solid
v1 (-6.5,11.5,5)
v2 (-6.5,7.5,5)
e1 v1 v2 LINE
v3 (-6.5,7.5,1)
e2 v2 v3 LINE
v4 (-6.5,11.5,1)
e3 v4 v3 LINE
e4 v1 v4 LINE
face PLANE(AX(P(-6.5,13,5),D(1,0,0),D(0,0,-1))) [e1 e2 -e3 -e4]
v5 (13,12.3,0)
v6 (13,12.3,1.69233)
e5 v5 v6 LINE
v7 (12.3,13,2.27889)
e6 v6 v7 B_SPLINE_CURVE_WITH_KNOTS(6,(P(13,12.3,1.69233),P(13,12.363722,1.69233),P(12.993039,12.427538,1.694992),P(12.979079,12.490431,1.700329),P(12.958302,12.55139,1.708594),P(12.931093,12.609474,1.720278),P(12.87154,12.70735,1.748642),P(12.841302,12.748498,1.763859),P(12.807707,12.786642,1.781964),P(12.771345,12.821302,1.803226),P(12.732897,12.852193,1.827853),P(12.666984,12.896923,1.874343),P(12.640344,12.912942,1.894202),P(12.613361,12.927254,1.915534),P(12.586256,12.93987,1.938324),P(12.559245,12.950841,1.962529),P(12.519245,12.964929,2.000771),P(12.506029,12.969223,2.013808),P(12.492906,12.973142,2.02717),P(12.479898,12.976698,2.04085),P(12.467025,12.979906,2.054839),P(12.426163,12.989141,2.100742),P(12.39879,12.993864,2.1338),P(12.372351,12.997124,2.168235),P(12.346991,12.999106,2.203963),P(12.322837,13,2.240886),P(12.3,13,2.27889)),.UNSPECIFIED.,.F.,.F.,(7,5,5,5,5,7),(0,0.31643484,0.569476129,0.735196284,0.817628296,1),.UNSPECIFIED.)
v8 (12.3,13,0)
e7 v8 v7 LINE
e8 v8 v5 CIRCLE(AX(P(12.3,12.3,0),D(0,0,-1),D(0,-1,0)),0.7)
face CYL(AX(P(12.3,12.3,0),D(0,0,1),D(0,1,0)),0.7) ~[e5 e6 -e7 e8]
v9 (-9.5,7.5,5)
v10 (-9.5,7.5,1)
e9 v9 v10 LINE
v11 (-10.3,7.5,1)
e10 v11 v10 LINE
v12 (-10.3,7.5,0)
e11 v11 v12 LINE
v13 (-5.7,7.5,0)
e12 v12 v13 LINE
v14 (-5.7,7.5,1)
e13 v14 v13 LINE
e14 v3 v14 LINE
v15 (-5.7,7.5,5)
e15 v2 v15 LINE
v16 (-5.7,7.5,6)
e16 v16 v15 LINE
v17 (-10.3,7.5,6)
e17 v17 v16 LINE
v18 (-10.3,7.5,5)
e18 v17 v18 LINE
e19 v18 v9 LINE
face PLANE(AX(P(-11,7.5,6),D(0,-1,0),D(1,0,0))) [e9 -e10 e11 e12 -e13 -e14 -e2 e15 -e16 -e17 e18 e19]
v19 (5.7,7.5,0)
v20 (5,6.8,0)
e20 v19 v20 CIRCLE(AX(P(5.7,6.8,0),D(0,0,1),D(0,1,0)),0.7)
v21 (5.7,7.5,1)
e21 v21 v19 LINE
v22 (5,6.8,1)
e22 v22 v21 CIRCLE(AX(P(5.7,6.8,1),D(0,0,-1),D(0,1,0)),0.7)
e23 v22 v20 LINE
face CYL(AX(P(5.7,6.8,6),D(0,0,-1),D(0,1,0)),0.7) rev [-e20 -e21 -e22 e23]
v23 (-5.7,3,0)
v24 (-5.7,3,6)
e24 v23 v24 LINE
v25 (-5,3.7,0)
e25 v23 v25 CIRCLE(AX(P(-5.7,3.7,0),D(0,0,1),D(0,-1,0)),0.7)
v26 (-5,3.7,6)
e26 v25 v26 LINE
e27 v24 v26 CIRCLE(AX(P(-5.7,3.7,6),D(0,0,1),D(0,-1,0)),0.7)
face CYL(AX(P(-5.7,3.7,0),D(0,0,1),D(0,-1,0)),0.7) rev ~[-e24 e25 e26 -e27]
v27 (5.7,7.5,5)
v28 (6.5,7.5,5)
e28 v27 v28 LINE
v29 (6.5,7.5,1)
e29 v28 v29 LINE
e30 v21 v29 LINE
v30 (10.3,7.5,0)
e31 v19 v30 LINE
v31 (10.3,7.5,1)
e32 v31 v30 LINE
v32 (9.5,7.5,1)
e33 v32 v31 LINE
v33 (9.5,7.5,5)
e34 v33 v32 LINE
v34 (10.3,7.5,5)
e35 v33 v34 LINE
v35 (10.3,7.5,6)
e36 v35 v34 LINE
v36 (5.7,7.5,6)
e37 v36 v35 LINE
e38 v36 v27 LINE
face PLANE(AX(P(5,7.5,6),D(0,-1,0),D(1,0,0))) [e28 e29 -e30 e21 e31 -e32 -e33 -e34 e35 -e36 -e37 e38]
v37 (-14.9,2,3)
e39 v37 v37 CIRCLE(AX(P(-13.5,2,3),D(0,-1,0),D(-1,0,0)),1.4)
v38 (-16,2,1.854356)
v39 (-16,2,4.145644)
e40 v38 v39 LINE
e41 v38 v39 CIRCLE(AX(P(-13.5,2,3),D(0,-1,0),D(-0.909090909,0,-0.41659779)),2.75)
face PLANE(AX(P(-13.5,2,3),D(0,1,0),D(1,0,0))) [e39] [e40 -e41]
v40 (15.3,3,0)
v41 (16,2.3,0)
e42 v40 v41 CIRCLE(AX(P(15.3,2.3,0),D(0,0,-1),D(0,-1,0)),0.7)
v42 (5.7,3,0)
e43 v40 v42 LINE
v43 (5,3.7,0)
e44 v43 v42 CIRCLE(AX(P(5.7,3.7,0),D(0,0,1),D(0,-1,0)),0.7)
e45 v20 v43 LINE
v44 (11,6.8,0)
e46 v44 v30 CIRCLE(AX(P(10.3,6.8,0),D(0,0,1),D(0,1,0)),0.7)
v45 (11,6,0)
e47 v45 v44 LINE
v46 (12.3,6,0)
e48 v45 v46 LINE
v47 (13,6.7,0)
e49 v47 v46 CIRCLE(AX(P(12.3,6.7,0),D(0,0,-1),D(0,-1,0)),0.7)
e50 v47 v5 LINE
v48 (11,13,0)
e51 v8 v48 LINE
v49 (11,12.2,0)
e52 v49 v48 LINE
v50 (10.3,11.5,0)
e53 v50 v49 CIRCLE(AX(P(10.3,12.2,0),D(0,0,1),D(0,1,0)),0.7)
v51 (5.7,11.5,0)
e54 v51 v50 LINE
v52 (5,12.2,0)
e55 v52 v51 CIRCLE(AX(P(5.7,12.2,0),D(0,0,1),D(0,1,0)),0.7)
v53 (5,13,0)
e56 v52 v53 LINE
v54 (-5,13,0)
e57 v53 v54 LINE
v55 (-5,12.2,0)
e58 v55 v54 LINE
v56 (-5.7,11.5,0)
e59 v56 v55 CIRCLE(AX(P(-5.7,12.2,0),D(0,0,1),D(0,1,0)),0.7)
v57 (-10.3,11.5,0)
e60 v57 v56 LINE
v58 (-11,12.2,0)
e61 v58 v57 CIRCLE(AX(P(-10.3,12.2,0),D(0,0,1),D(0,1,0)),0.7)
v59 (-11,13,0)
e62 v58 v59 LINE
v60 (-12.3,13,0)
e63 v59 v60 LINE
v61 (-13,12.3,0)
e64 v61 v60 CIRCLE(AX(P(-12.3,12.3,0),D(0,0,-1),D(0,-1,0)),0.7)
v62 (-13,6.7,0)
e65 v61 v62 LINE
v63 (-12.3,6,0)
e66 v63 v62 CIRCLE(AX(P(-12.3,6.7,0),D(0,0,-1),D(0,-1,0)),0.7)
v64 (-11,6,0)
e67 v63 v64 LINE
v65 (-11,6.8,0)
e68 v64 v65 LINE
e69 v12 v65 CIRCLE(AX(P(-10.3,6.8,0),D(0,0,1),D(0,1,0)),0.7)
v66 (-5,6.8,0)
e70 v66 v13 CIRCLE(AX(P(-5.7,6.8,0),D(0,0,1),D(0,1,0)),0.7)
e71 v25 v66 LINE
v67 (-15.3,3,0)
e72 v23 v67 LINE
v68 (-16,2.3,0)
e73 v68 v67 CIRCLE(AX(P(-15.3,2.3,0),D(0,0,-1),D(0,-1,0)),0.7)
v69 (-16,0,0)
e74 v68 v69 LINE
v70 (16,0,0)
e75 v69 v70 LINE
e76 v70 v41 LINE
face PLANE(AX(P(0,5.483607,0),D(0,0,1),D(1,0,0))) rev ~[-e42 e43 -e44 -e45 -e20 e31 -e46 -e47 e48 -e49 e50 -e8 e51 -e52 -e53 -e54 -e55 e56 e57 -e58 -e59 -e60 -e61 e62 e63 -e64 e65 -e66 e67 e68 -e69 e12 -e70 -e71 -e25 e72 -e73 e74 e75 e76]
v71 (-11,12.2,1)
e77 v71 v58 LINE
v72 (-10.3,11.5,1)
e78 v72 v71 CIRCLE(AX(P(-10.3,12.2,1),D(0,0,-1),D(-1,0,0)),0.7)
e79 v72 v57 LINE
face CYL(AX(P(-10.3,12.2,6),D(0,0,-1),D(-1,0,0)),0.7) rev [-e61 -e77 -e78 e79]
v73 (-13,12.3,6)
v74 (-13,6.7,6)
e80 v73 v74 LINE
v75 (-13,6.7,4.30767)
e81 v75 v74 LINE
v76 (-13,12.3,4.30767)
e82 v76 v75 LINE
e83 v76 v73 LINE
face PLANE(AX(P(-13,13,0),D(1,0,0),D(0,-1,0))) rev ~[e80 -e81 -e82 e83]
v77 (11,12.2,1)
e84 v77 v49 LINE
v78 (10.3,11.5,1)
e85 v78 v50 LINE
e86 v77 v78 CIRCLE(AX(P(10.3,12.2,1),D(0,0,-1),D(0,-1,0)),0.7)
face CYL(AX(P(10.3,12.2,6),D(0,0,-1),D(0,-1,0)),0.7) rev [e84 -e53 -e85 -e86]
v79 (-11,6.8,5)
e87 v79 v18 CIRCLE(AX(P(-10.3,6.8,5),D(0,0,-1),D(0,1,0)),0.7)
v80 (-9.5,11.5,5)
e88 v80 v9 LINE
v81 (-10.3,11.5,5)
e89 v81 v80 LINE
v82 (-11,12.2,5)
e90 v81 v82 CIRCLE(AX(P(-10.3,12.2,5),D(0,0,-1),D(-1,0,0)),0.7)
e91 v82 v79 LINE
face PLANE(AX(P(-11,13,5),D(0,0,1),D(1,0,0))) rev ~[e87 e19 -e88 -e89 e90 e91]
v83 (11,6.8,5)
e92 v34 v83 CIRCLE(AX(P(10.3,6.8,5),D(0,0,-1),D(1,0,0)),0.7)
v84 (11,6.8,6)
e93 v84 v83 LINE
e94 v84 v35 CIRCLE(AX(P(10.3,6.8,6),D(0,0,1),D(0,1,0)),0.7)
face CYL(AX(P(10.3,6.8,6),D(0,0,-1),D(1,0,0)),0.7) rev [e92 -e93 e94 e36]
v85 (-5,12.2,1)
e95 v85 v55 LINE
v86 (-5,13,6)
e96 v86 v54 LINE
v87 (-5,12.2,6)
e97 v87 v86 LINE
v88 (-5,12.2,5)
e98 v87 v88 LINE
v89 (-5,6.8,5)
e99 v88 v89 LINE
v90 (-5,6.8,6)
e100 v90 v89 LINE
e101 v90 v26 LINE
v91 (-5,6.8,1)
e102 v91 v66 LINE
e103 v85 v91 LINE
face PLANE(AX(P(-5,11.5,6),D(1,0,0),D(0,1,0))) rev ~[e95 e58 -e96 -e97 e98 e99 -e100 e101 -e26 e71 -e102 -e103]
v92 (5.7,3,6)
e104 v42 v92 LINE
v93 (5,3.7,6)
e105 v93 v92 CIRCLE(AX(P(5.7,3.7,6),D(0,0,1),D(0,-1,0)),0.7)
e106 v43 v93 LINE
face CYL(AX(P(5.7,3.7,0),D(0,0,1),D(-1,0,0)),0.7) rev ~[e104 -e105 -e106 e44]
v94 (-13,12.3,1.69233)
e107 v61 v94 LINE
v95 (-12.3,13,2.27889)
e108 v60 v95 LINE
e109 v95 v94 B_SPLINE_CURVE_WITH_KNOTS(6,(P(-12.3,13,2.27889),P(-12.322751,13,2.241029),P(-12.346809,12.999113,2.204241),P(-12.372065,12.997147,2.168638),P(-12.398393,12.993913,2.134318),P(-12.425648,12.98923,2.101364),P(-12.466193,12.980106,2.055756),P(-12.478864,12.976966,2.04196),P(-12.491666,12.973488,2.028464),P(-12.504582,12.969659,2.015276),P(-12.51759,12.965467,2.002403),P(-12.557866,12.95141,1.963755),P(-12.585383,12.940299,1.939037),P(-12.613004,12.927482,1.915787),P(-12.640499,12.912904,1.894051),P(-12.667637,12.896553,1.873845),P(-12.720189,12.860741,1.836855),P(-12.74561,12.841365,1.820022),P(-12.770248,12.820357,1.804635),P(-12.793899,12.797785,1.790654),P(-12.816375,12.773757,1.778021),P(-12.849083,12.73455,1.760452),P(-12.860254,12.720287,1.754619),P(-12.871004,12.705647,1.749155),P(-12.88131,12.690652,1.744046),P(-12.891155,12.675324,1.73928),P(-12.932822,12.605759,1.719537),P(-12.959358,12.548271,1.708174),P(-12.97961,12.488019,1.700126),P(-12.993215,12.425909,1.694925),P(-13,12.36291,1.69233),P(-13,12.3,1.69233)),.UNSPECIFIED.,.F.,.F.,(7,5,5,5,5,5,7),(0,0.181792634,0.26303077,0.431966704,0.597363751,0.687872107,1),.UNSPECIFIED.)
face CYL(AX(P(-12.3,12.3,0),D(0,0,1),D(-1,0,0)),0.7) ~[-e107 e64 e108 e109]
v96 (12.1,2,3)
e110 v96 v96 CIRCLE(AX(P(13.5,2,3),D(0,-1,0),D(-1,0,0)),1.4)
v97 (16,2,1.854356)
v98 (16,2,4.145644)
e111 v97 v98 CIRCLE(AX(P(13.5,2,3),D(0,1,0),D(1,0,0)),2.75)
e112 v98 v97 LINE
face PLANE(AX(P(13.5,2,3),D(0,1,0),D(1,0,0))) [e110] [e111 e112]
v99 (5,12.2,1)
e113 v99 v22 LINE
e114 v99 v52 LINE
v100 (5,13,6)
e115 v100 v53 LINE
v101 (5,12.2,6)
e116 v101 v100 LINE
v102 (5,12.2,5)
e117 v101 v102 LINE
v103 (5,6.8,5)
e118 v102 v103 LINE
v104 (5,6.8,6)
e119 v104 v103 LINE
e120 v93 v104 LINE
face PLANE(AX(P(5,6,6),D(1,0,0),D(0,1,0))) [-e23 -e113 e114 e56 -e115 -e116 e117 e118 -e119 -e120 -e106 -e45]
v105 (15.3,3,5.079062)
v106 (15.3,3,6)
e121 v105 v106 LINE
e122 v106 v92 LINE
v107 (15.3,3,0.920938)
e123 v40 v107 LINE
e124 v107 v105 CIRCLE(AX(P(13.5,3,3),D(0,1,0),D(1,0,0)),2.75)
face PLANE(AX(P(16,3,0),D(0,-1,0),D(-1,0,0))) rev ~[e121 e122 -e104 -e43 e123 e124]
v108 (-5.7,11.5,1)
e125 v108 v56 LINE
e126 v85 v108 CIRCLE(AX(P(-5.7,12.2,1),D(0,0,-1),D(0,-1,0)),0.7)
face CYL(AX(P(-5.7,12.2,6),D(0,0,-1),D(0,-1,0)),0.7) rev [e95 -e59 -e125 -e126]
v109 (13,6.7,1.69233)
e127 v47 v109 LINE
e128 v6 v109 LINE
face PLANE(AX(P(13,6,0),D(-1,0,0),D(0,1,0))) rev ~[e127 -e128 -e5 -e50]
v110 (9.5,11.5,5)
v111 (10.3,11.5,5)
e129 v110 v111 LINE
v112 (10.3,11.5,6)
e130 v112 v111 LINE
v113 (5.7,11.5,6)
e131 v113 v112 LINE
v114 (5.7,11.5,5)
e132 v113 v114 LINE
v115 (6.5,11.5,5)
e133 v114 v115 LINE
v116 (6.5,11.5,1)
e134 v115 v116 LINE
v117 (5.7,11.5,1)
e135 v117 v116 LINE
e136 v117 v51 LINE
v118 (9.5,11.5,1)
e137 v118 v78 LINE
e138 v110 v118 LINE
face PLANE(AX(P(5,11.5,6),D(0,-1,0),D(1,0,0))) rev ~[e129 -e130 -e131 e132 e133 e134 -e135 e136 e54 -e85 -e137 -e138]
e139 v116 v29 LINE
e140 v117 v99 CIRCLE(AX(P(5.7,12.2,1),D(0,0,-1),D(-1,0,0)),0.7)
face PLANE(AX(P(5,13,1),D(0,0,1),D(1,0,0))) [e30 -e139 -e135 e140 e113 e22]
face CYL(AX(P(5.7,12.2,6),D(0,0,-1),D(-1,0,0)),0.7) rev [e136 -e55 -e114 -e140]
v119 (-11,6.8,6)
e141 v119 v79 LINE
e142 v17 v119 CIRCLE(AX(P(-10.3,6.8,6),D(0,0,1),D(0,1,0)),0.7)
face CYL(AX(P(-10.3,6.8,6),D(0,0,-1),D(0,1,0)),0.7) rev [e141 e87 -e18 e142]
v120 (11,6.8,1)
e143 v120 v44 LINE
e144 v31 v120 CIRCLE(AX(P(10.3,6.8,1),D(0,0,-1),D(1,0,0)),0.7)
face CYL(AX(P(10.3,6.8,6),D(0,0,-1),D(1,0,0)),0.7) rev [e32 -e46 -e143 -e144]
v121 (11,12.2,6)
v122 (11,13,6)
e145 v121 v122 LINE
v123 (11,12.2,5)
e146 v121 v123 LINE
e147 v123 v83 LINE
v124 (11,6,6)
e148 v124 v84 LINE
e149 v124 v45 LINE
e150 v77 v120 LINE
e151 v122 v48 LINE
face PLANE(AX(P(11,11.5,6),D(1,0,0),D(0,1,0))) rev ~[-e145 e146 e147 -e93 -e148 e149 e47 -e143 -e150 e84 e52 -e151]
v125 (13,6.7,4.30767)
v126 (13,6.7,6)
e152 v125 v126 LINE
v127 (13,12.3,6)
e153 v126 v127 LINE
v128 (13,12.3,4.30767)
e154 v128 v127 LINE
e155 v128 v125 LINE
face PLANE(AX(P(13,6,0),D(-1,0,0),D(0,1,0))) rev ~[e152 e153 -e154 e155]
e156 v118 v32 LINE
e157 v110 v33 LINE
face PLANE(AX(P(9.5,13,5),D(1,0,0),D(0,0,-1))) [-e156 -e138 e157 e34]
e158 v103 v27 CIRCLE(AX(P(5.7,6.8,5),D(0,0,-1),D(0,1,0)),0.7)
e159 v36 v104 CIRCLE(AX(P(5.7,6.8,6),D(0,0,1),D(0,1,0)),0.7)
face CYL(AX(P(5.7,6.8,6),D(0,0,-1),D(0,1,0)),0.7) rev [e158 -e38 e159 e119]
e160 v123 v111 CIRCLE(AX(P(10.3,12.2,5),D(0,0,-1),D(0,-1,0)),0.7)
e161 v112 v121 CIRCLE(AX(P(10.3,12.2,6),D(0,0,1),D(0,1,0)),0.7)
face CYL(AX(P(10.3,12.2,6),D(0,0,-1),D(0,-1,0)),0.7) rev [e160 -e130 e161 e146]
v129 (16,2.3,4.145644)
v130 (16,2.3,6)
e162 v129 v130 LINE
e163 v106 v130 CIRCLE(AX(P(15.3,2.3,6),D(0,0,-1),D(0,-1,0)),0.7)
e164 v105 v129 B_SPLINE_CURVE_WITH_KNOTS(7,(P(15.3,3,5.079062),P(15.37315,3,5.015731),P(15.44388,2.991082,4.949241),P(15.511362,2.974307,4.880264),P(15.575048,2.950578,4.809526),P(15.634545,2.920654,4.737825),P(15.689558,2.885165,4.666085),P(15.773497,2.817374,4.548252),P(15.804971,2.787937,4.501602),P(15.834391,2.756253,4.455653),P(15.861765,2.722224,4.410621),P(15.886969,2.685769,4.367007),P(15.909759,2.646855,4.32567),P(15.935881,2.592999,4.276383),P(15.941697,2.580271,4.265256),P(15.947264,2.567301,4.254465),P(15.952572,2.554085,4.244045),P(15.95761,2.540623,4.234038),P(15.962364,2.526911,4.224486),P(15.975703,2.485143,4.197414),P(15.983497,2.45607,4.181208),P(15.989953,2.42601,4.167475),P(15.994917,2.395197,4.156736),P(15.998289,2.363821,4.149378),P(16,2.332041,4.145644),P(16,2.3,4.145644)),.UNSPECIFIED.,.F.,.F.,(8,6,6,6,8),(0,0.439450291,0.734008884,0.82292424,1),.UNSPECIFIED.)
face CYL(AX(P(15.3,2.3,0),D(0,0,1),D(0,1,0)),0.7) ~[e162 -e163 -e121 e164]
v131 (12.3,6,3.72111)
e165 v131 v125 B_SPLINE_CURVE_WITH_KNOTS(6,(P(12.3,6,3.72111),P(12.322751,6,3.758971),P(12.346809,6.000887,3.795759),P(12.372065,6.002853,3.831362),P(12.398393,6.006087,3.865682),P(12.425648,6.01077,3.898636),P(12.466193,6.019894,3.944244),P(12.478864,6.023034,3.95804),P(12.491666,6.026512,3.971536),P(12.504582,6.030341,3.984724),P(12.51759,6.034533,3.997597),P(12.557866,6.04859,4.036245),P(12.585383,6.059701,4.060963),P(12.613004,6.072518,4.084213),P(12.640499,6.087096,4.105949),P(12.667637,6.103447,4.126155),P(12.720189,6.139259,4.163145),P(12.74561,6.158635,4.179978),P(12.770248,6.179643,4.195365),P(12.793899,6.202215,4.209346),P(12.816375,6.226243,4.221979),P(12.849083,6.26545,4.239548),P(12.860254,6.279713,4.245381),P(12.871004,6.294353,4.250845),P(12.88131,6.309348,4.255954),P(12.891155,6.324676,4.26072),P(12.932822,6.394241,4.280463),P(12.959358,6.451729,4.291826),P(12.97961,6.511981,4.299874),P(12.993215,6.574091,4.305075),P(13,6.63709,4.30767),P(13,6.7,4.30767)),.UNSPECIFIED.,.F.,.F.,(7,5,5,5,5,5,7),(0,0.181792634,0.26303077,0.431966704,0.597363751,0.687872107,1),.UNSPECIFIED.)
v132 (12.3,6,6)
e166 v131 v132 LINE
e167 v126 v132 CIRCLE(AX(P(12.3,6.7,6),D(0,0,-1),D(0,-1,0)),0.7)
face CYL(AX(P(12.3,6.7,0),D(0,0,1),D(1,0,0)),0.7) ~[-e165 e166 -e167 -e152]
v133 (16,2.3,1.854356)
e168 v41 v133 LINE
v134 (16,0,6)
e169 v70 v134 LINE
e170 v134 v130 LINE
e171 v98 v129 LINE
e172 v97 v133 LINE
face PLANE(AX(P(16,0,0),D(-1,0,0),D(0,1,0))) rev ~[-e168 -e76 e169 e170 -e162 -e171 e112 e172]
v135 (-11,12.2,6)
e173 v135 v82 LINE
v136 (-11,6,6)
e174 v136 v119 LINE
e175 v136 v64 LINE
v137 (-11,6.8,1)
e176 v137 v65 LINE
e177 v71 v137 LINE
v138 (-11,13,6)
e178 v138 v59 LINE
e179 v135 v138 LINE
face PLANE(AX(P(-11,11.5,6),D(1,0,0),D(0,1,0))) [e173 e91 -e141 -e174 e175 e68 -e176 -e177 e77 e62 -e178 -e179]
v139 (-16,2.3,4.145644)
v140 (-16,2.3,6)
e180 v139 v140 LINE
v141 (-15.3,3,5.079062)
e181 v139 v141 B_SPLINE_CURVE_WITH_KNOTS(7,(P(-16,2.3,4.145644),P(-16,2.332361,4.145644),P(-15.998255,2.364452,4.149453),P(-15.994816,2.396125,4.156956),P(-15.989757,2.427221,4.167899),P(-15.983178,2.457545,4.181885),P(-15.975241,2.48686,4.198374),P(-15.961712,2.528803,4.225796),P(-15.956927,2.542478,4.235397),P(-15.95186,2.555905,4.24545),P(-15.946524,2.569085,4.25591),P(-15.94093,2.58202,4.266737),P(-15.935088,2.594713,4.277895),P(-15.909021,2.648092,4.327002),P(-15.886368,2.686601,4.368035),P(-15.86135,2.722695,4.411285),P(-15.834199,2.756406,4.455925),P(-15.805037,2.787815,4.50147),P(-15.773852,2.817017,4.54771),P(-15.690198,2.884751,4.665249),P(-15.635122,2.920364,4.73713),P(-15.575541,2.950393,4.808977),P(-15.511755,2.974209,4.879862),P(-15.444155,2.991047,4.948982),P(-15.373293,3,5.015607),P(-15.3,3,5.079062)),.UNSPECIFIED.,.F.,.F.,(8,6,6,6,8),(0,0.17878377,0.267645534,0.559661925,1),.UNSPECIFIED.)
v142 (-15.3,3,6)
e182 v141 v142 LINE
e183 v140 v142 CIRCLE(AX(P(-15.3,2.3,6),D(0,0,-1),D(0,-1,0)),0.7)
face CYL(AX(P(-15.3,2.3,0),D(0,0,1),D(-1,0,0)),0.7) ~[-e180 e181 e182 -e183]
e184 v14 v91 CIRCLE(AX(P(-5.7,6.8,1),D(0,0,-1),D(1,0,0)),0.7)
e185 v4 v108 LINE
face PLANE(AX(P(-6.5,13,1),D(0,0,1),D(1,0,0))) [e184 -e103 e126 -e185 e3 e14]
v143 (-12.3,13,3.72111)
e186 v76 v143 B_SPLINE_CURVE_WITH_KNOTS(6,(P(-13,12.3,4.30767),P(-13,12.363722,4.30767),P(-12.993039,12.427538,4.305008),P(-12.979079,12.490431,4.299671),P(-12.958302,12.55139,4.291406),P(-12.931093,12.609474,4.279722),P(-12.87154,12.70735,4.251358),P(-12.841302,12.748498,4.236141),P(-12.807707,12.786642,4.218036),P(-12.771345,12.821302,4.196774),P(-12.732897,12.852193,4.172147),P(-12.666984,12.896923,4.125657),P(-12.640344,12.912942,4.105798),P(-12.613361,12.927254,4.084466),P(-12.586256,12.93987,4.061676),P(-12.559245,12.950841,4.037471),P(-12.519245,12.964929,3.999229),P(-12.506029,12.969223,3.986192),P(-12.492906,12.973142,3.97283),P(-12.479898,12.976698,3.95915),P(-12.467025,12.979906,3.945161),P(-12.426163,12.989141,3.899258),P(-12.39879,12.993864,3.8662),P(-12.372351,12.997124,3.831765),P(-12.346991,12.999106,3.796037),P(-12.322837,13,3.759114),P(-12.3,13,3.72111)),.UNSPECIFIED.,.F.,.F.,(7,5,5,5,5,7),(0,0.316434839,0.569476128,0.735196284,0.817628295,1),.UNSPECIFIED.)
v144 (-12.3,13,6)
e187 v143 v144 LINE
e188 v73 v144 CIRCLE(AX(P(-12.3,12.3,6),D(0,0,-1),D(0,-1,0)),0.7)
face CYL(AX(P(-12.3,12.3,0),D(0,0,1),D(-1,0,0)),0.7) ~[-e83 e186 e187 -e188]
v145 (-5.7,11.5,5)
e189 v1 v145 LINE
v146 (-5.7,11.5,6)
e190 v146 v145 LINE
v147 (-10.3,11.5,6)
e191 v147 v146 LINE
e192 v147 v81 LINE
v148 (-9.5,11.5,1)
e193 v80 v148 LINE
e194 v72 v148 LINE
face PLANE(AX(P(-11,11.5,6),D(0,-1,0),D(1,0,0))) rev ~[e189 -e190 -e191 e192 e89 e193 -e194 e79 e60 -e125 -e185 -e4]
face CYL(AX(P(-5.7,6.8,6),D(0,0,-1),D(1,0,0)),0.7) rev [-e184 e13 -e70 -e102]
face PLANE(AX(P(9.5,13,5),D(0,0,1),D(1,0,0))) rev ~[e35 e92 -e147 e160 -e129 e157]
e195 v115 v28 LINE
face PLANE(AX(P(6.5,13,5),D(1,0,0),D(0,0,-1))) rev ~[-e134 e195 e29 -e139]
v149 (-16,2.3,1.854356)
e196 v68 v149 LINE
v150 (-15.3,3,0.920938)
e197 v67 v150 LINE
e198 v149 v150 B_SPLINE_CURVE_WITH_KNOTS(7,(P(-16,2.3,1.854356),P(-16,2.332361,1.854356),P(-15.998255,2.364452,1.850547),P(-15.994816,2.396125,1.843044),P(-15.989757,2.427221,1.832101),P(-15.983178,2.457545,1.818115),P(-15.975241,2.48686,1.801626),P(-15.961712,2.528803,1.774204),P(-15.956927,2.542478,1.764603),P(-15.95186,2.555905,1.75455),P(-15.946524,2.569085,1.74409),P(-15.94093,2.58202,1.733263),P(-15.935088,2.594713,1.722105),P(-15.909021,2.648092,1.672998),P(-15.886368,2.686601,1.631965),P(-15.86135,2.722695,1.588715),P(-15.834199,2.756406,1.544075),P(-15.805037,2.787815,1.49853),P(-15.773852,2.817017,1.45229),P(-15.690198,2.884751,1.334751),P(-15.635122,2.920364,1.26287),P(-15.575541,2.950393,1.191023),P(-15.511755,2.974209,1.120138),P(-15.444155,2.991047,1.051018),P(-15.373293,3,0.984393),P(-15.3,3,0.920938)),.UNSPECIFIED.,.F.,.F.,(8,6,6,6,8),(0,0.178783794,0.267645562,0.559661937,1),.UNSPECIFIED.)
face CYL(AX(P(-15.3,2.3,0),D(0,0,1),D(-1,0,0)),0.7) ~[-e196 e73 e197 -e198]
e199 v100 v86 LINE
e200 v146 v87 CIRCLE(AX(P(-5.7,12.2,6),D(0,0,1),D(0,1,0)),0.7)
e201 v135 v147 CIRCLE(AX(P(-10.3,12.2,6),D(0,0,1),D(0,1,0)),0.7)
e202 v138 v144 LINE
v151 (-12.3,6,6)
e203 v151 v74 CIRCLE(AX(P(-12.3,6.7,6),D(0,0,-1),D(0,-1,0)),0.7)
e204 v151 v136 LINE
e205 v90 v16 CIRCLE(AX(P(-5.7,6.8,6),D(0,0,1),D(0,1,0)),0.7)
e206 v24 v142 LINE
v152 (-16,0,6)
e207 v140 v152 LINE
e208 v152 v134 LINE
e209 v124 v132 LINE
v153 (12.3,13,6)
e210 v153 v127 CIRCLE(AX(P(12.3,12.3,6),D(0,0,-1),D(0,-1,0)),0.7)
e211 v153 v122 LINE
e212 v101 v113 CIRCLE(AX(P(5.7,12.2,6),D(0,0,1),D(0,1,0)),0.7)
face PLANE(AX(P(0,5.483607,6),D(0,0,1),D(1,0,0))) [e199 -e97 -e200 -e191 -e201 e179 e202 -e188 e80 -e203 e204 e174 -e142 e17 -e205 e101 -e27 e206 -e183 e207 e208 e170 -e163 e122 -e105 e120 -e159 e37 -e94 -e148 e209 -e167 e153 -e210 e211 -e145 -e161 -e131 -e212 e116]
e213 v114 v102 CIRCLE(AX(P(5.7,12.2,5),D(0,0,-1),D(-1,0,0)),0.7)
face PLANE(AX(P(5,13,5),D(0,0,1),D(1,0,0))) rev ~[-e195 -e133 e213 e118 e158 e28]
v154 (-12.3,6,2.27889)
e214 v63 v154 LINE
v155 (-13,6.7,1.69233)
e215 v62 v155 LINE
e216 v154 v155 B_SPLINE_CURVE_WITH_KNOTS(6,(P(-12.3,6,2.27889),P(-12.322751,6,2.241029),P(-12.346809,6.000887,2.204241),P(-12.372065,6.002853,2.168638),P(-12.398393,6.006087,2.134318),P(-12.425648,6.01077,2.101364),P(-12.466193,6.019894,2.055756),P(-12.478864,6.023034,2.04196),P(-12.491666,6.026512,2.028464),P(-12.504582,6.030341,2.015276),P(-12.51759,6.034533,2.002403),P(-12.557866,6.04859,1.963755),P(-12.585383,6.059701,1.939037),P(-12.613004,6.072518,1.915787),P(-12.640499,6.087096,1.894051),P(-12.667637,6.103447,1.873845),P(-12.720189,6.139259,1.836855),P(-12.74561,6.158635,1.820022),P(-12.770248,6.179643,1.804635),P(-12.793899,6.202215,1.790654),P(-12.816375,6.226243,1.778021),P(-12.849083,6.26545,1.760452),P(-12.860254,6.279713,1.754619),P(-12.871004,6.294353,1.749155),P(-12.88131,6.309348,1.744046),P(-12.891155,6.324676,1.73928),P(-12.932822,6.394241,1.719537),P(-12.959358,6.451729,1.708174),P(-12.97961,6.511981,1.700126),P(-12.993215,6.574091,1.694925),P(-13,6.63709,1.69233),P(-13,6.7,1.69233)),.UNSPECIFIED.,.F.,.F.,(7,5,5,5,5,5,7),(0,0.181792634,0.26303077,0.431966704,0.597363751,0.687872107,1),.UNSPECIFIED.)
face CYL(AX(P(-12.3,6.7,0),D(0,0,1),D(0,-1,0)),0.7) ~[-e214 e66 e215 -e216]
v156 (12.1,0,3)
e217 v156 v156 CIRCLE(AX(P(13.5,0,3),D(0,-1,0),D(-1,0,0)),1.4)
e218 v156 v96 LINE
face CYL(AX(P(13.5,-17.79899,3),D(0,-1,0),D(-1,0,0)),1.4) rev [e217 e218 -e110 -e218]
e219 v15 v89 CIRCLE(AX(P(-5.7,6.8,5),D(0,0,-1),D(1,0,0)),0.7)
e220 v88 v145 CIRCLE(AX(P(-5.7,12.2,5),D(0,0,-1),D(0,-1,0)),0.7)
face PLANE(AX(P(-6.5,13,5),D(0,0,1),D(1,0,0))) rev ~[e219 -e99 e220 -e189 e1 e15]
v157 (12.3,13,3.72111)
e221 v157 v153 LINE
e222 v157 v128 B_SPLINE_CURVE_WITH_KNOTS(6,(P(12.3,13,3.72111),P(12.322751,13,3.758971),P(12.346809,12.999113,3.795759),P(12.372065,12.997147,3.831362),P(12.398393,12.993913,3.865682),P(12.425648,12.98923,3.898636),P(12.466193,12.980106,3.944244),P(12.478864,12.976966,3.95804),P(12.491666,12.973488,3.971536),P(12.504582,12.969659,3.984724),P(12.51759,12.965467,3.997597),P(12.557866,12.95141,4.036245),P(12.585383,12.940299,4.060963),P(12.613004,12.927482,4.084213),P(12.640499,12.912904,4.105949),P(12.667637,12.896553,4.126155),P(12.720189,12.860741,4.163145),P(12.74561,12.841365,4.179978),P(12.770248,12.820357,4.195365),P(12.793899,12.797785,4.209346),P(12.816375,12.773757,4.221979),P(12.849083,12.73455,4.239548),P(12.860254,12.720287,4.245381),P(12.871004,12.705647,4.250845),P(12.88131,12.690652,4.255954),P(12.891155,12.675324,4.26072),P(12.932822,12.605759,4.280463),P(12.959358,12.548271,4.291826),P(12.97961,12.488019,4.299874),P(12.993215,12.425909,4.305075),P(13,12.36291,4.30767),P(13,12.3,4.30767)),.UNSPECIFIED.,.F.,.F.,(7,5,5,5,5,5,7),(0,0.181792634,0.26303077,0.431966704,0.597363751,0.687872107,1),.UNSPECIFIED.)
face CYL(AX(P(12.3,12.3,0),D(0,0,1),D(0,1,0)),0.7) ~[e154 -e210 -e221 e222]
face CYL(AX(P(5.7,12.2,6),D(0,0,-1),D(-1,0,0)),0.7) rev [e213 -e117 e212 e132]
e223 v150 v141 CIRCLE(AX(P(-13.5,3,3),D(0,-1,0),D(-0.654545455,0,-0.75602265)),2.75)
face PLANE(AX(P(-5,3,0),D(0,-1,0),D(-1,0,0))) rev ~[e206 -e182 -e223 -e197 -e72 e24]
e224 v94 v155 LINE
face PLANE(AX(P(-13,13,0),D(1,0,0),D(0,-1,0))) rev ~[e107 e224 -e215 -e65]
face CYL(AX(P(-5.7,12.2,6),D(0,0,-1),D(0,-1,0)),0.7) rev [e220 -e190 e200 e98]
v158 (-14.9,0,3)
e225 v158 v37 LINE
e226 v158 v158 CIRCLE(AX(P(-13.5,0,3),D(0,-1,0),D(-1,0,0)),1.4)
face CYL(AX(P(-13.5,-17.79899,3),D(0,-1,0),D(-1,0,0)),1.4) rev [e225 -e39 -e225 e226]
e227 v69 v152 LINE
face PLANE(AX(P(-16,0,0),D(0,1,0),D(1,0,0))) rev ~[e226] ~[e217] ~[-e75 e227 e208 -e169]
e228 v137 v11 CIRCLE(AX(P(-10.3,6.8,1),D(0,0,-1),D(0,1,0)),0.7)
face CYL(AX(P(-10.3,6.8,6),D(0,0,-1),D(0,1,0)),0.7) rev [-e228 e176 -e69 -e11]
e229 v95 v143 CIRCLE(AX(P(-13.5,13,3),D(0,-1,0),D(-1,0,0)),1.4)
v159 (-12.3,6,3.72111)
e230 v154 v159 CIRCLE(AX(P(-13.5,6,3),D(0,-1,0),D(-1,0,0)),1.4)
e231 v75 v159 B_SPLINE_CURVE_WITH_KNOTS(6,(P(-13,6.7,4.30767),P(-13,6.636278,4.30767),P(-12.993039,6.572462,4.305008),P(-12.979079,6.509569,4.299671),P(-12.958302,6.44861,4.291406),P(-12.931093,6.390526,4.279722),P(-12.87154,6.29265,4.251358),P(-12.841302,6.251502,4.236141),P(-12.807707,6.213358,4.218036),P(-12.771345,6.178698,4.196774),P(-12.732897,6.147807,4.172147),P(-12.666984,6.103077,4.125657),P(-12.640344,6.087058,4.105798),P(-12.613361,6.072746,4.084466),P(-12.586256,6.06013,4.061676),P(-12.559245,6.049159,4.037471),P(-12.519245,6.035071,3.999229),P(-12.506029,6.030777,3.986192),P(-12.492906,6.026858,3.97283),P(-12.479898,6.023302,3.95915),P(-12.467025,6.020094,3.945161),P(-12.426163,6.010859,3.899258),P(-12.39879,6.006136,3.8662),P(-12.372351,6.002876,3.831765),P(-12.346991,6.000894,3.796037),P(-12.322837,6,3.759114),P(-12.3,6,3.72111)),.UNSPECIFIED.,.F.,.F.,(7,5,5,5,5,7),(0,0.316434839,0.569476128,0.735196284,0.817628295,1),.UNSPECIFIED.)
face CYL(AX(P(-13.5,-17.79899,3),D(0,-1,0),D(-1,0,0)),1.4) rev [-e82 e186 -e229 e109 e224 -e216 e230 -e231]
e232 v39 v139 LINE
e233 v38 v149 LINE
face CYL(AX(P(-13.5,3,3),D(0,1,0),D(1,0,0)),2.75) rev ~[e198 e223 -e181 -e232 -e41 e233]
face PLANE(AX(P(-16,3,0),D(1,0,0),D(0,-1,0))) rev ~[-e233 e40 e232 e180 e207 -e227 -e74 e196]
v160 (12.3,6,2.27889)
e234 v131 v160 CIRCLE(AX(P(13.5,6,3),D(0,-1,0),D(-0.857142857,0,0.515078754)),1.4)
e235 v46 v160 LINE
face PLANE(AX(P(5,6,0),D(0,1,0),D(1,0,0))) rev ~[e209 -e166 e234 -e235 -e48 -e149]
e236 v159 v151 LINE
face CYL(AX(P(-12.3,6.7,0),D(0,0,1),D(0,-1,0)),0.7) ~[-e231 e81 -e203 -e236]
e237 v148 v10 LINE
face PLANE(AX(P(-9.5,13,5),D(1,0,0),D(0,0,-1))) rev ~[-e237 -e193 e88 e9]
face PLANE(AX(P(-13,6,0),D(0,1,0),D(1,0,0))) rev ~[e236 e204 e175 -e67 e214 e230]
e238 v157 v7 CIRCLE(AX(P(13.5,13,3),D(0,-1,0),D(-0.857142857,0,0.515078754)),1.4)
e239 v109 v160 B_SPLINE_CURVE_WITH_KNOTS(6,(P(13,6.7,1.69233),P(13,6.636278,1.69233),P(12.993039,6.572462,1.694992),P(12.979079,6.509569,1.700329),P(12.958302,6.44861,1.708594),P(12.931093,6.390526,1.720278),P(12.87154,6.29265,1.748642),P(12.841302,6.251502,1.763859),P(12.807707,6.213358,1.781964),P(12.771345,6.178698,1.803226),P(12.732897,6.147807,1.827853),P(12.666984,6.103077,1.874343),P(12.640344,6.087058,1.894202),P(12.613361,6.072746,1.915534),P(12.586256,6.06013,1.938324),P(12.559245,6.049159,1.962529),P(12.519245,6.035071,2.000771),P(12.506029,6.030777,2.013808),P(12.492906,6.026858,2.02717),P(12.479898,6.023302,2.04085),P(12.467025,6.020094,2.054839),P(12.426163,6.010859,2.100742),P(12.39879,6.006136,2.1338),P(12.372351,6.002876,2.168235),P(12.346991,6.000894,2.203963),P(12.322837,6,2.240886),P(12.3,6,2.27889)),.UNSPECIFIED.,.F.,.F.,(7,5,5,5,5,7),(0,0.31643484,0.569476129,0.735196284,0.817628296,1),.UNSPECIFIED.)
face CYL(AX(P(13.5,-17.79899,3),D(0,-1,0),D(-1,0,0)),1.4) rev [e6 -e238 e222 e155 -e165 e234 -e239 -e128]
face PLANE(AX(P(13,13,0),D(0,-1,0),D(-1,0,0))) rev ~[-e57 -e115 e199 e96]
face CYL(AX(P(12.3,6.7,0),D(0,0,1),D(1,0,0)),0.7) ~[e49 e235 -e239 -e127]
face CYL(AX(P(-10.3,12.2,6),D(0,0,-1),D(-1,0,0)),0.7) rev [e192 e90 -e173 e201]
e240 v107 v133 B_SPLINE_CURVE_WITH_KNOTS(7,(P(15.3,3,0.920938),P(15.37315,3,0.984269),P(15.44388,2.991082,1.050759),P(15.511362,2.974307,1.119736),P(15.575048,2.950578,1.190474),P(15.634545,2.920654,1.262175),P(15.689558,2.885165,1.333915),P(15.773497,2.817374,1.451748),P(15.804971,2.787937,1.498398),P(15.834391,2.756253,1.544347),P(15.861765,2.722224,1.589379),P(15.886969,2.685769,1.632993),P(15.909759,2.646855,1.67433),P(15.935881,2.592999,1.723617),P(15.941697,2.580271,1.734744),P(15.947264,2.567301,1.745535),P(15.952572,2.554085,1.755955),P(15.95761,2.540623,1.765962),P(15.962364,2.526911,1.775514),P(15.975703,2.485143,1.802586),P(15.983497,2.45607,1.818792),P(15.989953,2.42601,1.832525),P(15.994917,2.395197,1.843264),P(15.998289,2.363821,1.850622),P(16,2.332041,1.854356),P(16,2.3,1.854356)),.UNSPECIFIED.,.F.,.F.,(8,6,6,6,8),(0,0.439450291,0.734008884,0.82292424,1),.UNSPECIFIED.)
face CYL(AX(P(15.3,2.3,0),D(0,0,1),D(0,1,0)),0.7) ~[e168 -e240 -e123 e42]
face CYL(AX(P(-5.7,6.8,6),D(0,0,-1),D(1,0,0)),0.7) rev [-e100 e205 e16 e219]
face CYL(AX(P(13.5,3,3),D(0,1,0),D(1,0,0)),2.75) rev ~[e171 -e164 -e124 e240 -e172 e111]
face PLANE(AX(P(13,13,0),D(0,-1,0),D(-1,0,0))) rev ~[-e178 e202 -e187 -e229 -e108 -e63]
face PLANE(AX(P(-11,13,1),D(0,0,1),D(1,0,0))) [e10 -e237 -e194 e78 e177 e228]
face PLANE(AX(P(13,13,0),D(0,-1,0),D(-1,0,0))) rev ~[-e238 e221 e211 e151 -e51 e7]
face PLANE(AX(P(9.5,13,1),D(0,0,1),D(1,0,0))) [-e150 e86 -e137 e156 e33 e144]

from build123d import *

# Parameters (mm, degrees)
BOSS_EXTRUDE1_DEPTH     = 6
SKETCH4_W               = 6
SKETCH4_H               = 1.5
CUT_EXTRUDE2_DEPTH      = 22.470910554
FILLET1_R               = 0.7
CUT_EXTRUDE1_DEPTH      = 20.798989873
CUT_EXTRUDE1_DEPTH_BACK = 20.798989873
SKETCH2_R               = 1.4
CUT_EXTRUDE3_REACH      = 23.471
SKETCH5_W               = 1.5
SKETCH5_H               = 4
SKETCH6_R               = 2.75
CUT_EXTRUDE5_DEPTH      = 1


with BuildPart() as part:
    # Sketch1 → Boss-Extrude1 (new body)
    with BuildSketch(Plane.XY):
        Polygon((13, 13), (-13, 13), (-13, 6), (-5, 6), (-5, 3), (-16, 3), (-16, 0), (16, 0), (16, 3), (5, 3), (5, 6), (13, 6), align=None)
    extrude(amount=BOSS_EXTRUDE1_DEPTH)

    # Sketch4 → Cut-Extrude2 (cut, through all)
    with BuildSketch(Plane.XY.offset(6)):
        with Locations((-8, 6.75)):
            Rectangle(SKETCH4_W, SKETCH4_H)
        with Locations((-8, 12.25)):
            Rectangle(SKETCH4_W, SKETCH4_H)
        with Locations((8, 12.25)):
            Rectangle(SKETCH4_W, SKETCH4_H)
        with Locations((8, 6.75)):
            Rectangle(SKETCH4_W, SKETCH4_H)
    extrude(amount=-CUT_EXTRUDE2_DEPTH, mode=Mode.SUBTRACT)

    # Fillet1
    fillet1_edges = [part.edges().sort_by_distance(p)[0] for p in [
        (-13, 6, 3),
        (-13, 13, 3),
        (13, 13, 3),
        (13, 6, 3),
        (5, 3, 3),
        (16, 3, 3),
        (-16, 3, 3),
        (-5, 3, 3),
        (5, 7.5, 3),
        (11, 7.5, 3),
        (11, 11.5, 3),
        (5, 11.5, 3),
        (-11, 11.5, 3),
        (-5, 11.5, 3),
        (-11, 7.5, 3),
        (-5, 7.5, 3),
    ]]
    fillet(fillet1_edges, radius=FILLET1_R)

    # Sketch2 → Cut-Extrude1 (cut, two sides: drawn at the far end of the back side and taken through both)
    with BuildSketch(Plane(origin=(0, 3, 0), x_dir=(1, 0, 0), z_dir=(0, 1, 0)).offset(-CUT_EXTRUDE1_DEPTH_BACK)):
        with Locations(Location((-13.5, -3, 0), (0, 0, 180))):
            Circle(SKETCH2_R)
        with Locations(Location((13.5, -3, 0), (0, 0, 180))):
            Circle(SKETCH2_R)
    extrude(amount=CUT_EXTRUDE1_DEPTH + CUT_EXTRUDE1_DEPTH_BACK, mode=Mode.SUBTRACT)

    # Sketch5 → Cut-Extrude3 (cut, up to next)
    with BuildSketch(Plane(origin=(0, 13, 0), x_dir=(1, 0, 0), z_dir=(0, 1, 0)), mode=Mode.PRIVATE) as cut_extrude3_sk1:
        with Locations((-10.25, -3)):
            Rectangle(SKETCH5_W, SKETCH5_H)
    cut_extrude3_tool1 = extrude(cut_extrude3_sk1.sketch, amount=-CUT_EXTRUDE3_REACH, mode=Mode.PRIVATE) & part.part
    # Sketch5 → Cut-Extrude3 (cut, up to next)
    with BuildSketch(Plane(origin=(0, 13, 0), x_dir=(1, 0, 0), z_dir=(0, 1, 0)), mode=Mode.PRIVATE) as cut_extrude3_sk2:
        with Locations((-5.75, -3)):
            Rectangle(SKETCH5_W, SKETCH5_H)
    cut_extrude3_tool2 = extrude(cut_extrude3_sk2.sketch, amount=-CUT_EXTRUDE3_REACH, mode=Mode.PRIVATE) & part.part
    # Sketch5 → Cut-Extrude3 (cut, up to next)
    with BuildSketch(Plane(origin=(0, 13, 0), x_dir=(1, 0, 0), z_dir=(0, 1, 0)), mode=Mode.PRIVATE) as cut_extrude3_sk3:
        with Locations((5.75, -3)):
            Rectangle(SKETCH5_W, SKETCH5_H)
    cut_extrude3_tool3 = extrude(cut_extrude3_sk3.sketch, amount=-CUT_EXTRUDE3_REACH, mode=Mode.PRIVATE) & part.part
    # Sketch5 → Cut-Extrude3 (cut, up to next)
    with BuildSketch(Plane(origin=(0, 13, 0), x_dir=(1, 0, 0), z_dir=(0, 1, 0)), mode=Mode.PRIVATE) as cut_extrude3_sk4:
        with Locations((10.25, -3)):
            Rectangle(SKETCH5_W, SKETCH5_H)
    cut_extrude3_tool4 = extrude(cut_extrude3_sk4.sketch, amount=-CUT_EXTRUDE3_REACH, mode=Mode.PRIVATE) & part.part
    add(cut_extrude3_tool1.solids().sort_by_distance((-10.25, 13, 3))[0], mode=Mode.SUBTRACT)
    add(cut_extrude3_tool2.solids().sort_by_distance((-5.75, 13, 3))[0], mode=Mode.SUBTRACT)
    add(cut_extrude3_tool3.solids().sort_by_distance((5.75, 13, 3))[0], mode=Mode.SUBTRACT)
    add(cut_extrude3_tool4.solids().sort_by_distance((10.25, 13, 3))[0], mode=Mode.SUBTRACT)

    # Sketch6 → Cut-Extrude5 (cut)
    with BuildSketch(Plane(origin=(0, 3, 0), x_dir=(1, 0, 0), z_dir=(0, 1, 0))):
        with Locations((13.5, -3)):
            Circle(SKETCH6_R)
        with Locations((-13.5, -3)):
            Circle(SKETCH6_R)
    extrude(amount=-CUT_EXTRUDE5_DEPTH, mode=Mode.SUBTRACT)


solid = part.part
